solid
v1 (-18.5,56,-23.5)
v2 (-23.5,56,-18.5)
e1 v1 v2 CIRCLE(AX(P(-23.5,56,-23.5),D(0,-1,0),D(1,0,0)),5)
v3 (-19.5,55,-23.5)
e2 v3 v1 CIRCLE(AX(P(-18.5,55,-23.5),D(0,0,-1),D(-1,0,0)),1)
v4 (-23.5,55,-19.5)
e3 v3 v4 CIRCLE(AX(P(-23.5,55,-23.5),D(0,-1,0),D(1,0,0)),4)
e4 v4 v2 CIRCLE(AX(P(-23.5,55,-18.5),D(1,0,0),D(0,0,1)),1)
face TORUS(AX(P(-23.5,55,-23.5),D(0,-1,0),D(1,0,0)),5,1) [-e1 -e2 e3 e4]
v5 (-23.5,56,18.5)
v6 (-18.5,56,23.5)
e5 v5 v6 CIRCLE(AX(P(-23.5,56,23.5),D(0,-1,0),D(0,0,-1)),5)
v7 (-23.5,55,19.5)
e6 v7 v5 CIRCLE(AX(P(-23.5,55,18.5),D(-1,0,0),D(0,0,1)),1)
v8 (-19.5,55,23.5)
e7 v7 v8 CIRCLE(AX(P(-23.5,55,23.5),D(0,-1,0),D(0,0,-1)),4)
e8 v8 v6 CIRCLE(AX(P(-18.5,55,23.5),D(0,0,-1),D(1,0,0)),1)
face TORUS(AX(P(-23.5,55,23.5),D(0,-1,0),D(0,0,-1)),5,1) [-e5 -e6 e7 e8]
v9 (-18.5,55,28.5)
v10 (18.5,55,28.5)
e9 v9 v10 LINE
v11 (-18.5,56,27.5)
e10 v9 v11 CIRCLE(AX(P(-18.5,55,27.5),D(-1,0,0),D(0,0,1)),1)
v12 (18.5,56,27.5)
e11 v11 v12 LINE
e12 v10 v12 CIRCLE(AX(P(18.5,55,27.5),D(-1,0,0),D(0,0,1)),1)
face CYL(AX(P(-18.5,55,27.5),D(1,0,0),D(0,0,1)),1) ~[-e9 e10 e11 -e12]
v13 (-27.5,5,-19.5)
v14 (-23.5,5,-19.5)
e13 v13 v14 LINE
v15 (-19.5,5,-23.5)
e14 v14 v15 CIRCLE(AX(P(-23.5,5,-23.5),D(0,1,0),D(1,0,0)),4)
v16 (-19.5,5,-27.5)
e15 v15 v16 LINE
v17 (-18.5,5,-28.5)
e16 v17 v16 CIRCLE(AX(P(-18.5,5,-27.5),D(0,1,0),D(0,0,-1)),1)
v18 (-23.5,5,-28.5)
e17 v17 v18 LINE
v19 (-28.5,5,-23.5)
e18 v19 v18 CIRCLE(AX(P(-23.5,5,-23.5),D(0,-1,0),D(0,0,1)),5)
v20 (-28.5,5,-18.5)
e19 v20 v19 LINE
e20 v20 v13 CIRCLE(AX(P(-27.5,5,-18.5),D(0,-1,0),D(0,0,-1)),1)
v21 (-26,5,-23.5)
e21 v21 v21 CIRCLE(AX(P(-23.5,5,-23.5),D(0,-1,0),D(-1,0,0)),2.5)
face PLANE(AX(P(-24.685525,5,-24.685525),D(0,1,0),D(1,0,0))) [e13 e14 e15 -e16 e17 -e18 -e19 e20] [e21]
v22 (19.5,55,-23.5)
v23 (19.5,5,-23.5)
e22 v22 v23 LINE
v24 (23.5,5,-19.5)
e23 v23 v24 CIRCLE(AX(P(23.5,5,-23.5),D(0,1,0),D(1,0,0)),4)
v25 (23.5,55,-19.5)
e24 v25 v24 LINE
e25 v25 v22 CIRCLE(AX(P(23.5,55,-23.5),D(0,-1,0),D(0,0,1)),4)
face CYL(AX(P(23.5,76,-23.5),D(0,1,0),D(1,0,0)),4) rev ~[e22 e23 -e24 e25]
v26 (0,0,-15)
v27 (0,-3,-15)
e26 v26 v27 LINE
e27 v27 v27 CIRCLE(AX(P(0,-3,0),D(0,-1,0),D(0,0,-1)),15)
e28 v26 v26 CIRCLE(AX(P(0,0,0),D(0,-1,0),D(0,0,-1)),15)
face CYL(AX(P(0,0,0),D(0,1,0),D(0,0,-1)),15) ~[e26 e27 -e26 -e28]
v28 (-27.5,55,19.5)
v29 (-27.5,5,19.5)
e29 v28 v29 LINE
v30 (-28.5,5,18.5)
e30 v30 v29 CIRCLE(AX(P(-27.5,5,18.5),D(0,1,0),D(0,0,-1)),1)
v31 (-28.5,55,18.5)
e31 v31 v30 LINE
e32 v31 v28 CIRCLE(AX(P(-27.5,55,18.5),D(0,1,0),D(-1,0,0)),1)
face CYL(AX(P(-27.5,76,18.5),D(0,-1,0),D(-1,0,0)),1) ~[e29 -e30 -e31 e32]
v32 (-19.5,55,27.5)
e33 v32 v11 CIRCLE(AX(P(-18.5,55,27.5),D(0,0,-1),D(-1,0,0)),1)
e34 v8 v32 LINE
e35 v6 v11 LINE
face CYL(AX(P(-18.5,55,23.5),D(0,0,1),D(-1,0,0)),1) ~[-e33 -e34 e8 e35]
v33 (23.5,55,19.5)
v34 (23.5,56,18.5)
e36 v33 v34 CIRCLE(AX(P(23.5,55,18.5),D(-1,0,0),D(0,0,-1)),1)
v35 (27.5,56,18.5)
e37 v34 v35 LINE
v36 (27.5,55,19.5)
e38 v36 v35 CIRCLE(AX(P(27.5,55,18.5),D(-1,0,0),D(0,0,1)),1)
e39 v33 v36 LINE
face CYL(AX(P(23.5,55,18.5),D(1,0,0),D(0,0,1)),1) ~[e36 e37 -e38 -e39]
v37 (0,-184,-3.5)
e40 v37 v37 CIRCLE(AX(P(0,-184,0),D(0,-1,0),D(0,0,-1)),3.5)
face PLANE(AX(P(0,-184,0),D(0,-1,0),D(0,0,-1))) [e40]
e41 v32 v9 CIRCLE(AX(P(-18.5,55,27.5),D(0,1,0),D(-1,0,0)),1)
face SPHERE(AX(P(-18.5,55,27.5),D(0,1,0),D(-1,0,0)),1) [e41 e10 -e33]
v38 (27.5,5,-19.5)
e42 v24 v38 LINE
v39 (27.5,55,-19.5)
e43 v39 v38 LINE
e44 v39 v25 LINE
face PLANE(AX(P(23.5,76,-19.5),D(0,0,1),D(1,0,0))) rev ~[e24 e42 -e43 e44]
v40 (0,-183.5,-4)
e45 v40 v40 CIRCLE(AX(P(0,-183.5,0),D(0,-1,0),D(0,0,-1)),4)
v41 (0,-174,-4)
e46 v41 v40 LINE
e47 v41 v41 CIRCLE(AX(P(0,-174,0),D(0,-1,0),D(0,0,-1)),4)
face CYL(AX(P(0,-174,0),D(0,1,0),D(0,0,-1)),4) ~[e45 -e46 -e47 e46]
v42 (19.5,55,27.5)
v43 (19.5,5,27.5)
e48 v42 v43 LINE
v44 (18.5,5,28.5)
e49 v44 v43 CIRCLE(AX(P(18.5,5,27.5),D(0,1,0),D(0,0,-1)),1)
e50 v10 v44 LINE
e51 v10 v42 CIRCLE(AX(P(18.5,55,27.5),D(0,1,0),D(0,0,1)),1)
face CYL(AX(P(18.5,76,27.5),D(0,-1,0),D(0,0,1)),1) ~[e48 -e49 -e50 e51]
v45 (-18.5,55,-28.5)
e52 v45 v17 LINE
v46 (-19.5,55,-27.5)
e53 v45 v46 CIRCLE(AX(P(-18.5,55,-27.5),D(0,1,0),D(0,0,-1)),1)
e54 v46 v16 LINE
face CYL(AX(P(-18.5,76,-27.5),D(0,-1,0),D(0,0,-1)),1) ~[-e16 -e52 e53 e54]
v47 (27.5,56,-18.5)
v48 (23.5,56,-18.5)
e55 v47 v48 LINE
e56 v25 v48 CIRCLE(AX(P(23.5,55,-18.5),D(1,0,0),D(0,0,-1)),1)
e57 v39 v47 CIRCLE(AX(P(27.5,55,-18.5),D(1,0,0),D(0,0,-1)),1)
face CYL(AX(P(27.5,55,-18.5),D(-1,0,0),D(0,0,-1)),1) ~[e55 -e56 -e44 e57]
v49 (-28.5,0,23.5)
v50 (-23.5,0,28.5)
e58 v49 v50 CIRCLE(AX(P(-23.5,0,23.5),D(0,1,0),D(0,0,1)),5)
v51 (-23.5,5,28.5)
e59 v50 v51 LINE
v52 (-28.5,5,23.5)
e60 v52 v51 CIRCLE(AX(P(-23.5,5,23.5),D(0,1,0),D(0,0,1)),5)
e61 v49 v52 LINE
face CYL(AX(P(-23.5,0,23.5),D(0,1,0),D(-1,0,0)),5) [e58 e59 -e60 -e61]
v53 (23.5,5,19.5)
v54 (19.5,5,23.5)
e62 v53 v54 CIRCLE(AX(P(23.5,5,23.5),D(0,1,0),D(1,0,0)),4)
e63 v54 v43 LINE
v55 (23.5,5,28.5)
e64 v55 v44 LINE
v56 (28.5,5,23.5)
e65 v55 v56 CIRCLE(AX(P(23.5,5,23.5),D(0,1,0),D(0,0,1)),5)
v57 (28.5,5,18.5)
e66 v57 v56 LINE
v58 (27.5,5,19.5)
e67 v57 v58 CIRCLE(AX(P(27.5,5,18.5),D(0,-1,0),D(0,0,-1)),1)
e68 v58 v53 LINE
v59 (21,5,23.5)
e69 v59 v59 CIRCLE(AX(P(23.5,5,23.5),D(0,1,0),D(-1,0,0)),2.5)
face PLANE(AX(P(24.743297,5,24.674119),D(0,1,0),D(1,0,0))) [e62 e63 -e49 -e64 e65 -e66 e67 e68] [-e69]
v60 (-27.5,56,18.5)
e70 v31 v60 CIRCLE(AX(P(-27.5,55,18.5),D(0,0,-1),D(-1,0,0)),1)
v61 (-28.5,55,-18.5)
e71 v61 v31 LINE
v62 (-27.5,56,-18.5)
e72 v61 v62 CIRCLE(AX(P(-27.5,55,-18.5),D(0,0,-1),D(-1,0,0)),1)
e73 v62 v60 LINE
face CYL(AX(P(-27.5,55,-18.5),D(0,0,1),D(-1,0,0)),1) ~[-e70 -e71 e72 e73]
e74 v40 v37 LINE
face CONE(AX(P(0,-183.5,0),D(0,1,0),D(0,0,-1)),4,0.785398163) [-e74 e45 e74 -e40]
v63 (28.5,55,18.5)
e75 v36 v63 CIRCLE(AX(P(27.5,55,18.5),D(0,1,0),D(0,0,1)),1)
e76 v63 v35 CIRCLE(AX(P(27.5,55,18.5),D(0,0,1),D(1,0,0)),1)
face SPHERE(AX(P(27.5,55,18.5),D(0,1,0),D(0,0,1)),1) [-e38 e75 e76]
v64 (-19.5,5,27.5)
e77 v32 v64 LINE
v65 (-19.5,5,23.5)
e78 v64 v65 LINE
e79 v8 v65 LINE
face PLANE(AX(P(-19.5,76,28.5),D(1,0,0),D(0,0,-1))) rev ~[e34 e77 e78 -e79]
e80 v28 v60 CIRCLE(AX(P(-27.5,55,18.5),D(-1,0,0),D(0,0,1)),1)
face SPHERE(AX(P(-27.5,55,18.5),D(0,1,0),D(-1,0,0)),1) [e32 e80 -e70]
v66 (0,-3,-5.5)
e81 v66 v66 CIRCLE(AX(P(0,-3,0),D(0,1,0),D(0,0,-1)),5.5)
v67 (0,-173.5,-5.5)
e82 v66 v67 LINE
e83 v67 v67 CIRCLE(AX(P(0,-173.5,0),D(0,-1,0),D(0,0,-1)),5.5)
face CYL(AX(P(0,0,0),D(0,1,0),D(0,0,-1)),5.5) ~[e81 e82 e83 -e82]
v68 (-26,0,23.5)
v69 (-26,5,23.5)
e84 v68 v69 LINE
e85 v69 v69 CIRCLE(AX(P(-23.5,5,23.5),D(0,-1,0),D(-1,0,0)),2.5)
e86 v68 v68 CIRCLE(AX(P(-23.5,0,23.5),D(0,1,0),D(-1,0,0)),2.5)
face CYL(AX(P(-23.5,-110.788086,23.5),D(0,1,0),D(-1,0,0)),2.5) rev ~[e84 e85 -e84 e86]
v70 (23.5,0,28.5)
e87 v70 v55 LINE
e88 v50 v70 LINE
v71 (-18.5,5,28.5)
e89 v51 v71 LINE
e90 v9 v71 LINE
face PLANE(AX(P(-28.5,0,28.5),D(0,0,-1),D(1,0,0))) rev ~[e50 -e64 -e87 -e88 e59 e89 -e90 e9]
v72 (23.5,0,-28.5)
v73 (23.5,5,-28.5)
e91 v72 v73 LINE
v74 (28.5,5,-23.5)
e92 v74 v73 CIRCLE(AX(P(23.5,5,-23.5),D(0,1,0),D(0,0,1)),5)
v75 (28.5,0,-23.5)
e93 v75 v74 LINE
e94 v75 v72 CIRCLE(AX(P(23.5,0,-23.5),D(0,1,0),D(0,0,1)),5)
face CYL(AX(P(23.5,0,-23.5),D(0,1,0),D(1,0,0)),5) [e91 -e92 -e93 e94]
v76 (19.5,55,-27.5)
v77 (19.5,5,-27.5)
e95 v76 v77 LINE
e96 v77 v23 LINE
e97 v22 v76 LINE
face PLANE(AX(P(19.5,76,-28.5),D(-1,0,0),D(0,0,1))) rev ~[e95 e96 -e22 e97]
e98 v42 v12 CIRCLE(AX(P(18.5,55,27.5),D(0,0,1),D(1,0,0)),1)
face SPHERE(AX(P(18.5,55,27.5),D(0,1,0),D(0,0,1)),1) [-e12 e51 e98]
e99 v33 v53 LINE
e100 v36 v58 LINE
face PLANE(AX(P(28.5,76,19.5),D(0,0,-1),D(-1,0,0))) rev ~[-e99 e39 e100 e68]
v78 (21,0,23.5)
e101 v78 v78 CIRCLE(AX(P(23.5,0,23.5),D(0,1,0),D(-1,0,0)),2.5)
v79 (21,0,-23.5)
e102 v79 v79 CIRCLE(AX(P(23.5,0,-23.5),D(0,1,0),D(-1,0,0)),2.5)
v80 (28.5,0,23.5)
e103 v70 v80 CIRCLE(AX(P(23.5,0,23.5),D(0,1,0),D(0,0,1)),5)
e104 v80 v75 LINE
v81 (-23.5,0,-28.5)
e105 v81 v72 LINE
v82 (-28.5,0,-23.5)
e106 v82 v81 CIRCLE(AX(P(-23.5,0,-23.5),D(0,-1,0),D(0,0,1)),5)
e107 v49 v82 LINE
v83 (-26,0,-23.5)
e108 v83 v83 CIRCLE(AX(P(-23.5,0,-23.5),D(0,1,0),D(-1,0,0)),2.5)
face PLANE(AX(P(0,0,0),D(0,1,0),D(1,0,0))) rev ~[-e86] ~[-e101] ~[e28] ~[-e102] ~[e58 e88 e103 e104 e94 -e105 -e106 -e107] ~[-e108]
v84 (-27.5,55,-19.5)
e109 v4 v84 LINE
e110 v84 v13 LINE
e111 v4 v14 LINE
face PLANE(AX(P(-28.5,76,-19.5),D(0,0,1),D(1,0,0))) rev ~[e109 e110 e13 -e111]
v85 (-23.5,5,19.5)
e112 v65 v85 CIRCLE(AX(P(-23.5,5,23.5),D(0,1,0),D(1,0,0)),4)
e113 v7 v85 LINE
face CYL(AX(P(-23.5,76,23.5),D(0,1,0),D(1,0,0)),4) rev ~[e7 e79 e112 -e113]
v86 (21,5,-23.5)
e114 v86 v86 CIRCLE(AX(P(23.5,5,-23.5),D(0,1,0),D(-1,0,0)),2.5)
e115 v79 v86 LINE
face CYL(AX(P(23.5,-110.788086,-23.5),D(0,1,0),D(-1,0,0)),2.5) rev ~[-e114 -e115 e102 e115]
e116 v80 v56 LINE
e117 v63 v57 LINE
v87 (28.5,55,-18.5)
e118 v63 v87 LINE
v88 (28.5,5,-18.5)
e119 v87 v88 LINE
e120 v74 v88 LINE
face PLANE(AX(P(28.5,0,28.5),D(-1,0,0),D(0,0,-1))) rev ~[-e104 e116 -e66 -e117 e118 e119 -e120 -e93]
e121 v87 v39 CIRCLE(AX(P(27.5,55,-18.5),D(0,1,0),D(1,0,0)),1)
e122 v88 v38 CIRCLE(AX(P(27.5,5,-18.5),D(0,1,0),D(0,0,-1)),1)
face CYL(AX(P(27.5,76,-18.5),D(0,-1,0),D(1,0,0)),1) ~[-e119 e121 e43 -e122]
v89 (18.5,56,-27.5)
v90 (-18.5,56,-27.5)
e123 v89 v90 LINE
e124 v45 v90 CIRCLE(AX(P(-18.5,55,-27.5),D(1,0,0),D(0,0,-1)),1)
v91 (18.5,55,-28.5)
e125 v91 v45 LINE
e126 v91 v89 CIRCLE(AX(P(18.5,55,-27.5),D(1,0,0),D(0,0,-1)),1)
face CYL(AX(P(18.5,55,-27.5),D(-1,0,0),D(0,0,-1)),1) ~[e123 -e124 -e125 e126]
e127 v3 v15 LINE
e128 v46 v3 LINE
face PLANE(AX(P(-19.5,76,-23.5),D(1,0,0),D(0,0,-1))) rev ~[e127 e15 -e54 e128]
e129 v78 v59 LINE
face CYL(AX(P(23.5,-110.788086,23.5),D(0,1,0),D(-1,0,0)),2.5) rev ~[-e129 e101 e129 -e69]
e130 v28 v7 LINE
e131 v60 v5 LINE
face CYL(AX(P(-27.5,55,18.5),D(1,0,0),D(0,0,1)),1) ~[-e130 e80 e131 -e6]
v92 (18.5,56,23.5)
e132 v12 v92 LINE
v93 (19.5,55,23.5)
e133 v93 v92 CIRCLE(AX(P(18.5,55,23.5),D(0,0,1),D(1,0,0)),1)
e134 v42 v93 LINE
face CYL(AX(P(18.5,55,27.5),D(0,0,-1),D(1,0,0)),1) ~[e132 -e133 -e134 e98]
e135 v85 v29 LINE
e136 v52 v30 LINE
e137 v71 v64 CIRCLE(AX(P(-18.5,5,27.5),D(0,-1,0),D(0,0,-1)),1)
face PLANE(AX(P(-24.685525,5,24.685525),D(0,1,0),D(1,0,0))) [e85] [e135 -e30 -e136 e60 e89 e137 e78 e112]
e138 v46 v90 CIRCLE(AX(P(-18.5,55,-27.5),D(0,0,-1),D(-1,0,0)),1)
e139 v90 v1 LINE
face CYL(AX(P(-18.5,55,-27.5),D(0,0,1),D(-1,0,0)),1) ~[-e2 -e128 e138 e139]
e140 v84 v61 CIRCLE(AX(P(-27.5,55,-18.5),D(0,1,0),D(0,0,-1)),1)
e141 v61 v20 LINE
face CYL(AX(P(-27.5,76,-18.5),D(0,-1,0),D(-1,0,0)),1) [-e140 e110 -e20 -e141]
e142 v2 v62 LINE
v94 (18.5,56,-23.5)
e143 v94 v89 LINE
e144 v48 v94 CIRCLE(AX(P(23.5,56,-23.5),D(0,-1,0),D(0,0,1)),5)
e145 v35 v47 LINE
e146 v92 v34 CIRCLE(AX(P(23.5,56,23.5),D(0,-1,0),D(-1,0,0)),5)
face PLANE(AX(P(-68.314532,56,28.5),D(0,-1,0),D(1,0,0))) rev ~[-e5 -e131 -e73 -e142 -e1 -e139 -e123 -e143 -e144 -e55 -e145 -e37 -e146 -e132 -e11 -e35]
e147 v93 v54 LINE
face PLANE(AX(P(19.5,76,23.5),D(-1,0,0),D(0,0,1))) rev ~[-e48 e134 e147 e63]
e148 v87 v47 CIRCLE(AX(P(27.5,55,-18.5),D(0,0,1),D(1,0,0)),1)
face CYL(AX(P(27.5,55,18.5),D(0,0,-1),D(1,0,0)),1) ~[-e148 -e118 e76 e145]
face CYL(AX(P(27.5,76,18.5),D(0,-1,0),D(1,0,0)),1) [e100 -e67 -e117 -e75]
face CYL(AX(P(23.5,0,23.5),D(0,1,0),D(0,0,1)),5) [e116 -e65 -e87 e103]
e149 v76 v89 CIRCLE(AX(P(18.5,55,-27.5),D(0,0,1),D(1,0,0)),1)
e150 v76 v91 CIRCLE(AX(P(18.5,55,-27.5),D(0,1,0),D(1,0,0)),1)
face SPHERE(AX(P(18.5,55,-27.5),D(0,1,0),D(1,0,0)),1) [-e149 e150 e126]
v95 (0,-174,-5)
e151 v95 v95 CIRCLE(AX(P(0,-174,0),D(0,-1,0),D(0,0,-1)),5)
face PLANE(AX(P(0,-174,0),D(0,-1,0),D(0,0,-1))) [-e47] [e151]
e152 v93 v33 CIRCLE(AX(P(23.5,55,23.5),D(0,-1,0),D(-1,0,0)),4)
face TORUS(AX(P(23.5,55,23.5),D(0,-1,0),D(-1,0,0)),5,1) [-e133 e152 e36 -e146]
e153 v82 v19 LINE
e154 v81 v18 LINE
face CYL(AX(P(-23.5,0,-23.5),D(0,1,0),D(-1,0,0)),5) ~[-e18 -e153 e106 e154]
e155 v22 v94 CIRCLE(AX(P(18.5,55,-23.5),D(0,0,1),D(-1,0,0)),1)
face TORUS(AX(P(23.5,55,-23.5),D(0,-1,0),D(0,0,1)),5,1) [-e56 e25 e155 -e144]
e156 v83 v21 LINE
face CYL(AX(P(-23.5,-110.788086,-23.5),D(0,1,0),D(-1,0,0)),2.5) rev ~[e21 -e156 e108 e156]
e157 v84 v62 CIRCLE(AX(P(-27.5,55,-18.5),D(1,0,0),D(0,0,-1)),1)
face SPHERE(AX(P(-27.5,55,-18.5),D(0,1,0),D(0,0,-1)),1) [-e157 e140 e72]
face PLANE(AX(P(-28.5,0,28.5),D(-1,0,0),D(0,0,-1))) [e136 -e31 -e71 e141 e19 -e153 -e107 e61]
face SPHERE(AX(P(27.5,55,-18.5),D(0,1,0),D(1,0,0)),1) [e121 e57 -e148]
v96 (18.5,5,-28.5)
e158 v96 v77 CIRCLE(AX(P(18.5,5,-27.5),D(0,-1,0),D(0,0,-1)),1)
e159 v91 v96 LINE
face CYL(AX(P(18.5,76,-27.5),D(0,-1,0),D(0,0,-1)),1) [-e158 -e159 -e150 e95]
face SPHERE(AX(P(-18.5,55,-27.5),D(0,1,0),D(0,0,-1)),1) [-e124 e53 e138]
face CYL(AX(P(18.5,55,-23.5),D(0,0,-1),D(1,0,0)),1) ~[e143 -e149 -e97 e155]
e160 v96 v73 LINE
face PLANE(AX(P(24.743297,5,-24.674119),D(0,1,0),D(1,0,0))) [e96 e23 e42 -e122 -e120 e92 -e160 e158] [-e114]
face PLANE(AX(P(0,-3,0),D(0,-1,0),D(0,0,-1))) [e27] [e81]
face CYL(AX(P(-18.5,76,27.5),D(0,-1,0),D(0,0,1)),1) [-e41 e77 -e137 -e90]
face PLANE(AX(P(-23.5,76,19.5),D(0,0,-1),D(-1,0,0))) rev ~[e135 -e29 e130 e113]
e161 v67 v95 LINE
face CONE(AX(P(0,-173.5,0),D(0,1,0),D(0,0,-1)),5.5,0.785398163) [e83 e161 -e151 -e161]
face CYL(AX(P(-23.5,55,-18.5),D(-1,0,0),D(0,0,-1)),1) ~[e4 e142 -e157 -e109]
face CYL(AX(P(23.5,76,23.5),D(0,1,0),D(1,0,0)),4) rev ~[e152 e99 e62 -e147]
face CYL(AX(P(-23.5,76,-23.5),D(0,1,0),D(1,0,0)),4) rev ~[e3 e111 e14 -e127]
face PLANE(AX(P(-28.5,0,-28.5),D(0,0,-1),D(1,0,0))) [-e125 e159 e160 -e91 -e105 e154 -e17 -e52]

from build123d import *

# Parameters (mm, degrees)
SKETCH1_W                = 57
SKETCH1_H                = 57
EXTRUDE1_DEPTH           = 76
F_5_0_5_DIAMETER_HOLE1_D = 5
SKETCH6_R                = 4
SKETCH6_R_2              = 2.5
EXTRUDE4_DEPTH           = 71
FILLET1_R                = 5
SKETCH7_R                = 3
EXTRUDE5_DEPTH           = 101
SKETCH8_R                = 15
EXTRUDE6_DEPTH           = 3
FILLET2_R                = 1
SKETCH9_R                = 5.5
BOSS_EXTRUDE1_DEPTH      = 174
CHAMFER1_SIZE            = 0.5
SKETCH10_R               = 4
BOSS_EXTRUDE2_DEPTH      = 10
CHAMFER2_SIZE            = 0.5
CUT_EXTRUDE1_REACH       = 196.724
SKETCH11_W               = 136.965596246
SKETCH11_H               = 58.892429462
FILLET3_R                = 1


with BuildPart() as part:
    # Sketch1 → Extrude1 (new body)
    with BuildSketch(Plane(origin=(0, 0, 0), x_dir=(1, 0, 0), z_dir=(0, 1, 0))):
        Rectangle(SKETCH1_W, SKETCH1_H)
    extrude(amount=EXTRUDE1_DEPTH)

    # Ø5.0 (5) Diameter Hole1 (through all)
    with Locations(Plane.XZ):
        with Locations((-23.5, 23.5), (23.5, 23.5), (23.5, -23.5), (-23.5, -23.5)):
            Hole(F_5_0_5_DIAMETER_HOLE1_D / 2)

    # Sketch6 → Extrude4 (cut)
    # profile 1 of 12: a face of its own
    with BuildSketch(Plane(origin=(0, 76, 0), x_dir=(1, 0, 0), z_dir=(0, 1, 0))):
        Polygon((-28.5, 28.5), (-19.5, 28.5), (-19.5, 32.511741208), (-33.908905561, 32.511741208), (-33.908905561, 19.5), (-28.5, 19.5), align=None)
    # profile 2 of 12: a face of its own
    with BuildSketch(Plane(origin=(0, 76, 0), x_dir=(1, 0, 0), z_dir=(0, 1, 0))):
        with BuildLine():
            ThreePointArc((-23.5, 19.5), (-26.328427125, 26.328427125), (-19.5, 23.5))
            Line((-19.5, 23.5), (-19.5, 28.5))
            Line((-19.5, 28.5), (-28.5, 28.5))
            Line((-28.5, 28.5), (-28.5, 19.5))
            Line((-28.5, 19.5), (-23.5, 19.5))
        make_face()
    # profile 3 of 12: a face of its own
    with BuildSketch(Plane(origin=(0, 76, 0), x_dir=(1, 0, 0), z_dir=(0, 1, 0))):
        with Locations((-23.5, 23.5)):
            Circle(SKETCH6_R)
        with Locations(Location((-23.5, 23.5, 0), (0, 0, 90))):
            Circle(SKETCH6_R_2, mode=Mode.SUBTRACT)
    # profile 4 of 12: a face of its own
    with BuildSketch(Plane(origin=(0, 76, 0), x_dir=(1, 0, 0), z_dir=(0, 1, 0))):
        Polygon((19.5, 36.471560472), (19.5, 28.5), (28.5, 28.5), (28.5, 19.5), (41.168352552, 19.5), (41.168352552, 36.471560472), align=None)
    # profile 5 of 12: a face of its own
    with BuildSketch(Plane(origin=(0, 76, 0), x_dir=(1, 0, 0), z_dir=(0, 1, 0))):
        with BuildLine():
            Line((28.5, 28.5), (19.5, 28.5))
            Line((19.5, 28.5), (19.5, 23.5))
            ThreePointArc((19.5, 23.5), (23.5, 27.5), (27.5, 23.5))
            ThreePointArc((27.5, 23.5), (26.328427125, 20.671572875), (23.5, 19.5))
            Line((23.5, 19.5), (28.5, 19.5))
            Line((28.5, 19.5), (28.5, 28.5))
        make_face()
    # profile 6 of 12: a face of its own
    with BuildSketch(Plane(origin=(0, 76, 0), x_dir=(1, 0, 0), z_dir=(0, 1, 0))):
        with Locations((23.5, 23.5)):
            Circle(SKETCH6_R)
        with Locations(Location((23.5, 23.5, 0), (0, 0, 90))):
            Circle(SKETCH6_R_2, mode=Mode.SUBTRACT)
    # profile 7 of 12: a face of its own
    with BuildSketch(Plane(origin=(0, 76, 0), x_dir=(1, 0, 0), z_dir=(0, 1, 0))):
        with Locations((23.5, -23.5)):
            Circle(SKETCH6_R)
        with Locations(Location((23.5, -23.5, 0), (0, 0, 90))):
            Circle(SKETCH6_R_2, mode=Mode.SUBTRACT)
    # profile 8 of 12: a face of its own
    with BuildSketch(Plane(origin=(0, 76, 0), x_dir=(1, 0, 0), z_dir=(0, 1, 0))):
        with BuildLine():
            Line((28.5, -28.5), (28.5, -19.5))
            Line((28.5, -19.5), (23.5, -19.5))
            ThreePointArc((23.5, -19.5), (26.328427125, -20.671572875), (27.5, -23.5))
            ThreePointArc((27.5, -23.5), (23.5, -27.5), (19.5, -23.5))
            Line((19.5, -23.5), (19.5, -28.5))
            Line((19.5, -28.5), (28.5, -28.5))
        make_face()
    # profile 9 of 12: a face of its own
    with BuildSketch(Plane(origin=(0, 76, 0), x_dir=(1, 0, 0), z_dir=(0, 1, 0))):
        Polygon((44.252209519, -19.5), (28.5, -19.5), (28.5, -28.5), (19.5, -28.5), (19.5, -40.050429997), (44.252209519, -40.050429997), align=None)
    # profile 10 of 12: a face of its own
    with BuildSketch(Plane(origin=(0, 76, 0), x_dir=(1, 0, 0), z_dir=(0, 1, 0))):
        Polygon((-28.5, -28.5), (-28.5, -19.5), (-37.670786859, -19.5), (-37.670786859, -37.828231874), (-19.5, -37.828231874), (-19.5, -28.5), align=None)
    # profile 11 of 12: a face of its own
    with BuildSketch(Plane(origin=(0, 76, 0), x_dir=(1, 0, 0), z_dir=(0, 1, 0))):
        with BuildLine():
            Line((-23.5, -19.5), (-28.5, -19.5))
            Line((-28.5, -19.5), (-28.5, -28.5))
            Line((-28.5, -28.5), (-19.5, -28.5))
            Line((-19.5, -28.5), (-19.5, -23.5))
            ThreePointArc((-19.5, -23.5), (-26.328427125, -26.328427125), (-23.5, -19.5))
        make_face()
    # profile 12 of 12: a face of its own
    with BuildSketch(Plane(origin=(0, 76, 0), x_dir=(1, 0, 0), z_dir=(0, 1, 0))):
        with Locations((-23.5, -23.5)):
            Circle(SKETCH6_R)
        with Locations(Location((-23.5, -23.5, 0), (0, 0, 90))):
            Circle(SKETCH6_R_2, mode=Mode.SUBTRACT)
    extrude(amount=-EXTRUDE4_DEPTH, mode=Mode.SUBTRACT)

    # Fillet1
    fillet1_edges = [part.edges().sort_by_distance(p)[0] for p in [
        (-28.5, 2.5, 28.5),
        (-28.5, 2.5, -28.5),
        (28.5, 2.5, -28.5),
        (28.5, 2.5, 28.5),
    ]]
    fillet(fillet1_edges, radius=FILLET1_R)



with BuildPart() as body_2:
    # Sketch7 → Extrude5 (new body)
    with BuildSketch(Plane(origin=(0, 76, 0), x_dir=(1, 0, 0), z_dir=(0, 1, 0))):
        with Locations(Location((0, 0, 0), (0, 0, 270))):
            Circle(SKETCH7_R)
    extrude(amount=-EXTRUDE5_DEPTH)


with BuildPart() as part_1:
    add(part.part)

    add(body_2.part)  # Extrude6 merges body 2
    # Sketch8 → Extrude6 (add)
    with BuildSketch(Plane.XZ):
        with Locations(Location((0, 0, 0), (0, 0, 270))):
            Circle(SKETCH8_R)
    extrude(amount=EXTRUDE6_DEPTH)

    # Fillet2
    fillet2_edges = [part_1.edges().sort_by_distance(p)[0] for p in [
        (-28.5, 40.5, 19.5),
        (0, 76, 28.5),
        (-19.5, 40.5, 28.5),
        (-19.5, 76, 26),
        (-20.671572875, 76, 20.671572875),
        (-26, 76, 19.5),
        (-28.5, 76, 0),
        (-28.5, 40.5, -19.5),
        (-19.5, 40.5, -28.5),
        (-19.5, 76, -26),
        (-26, 76, -19.5),
        (-20.671572875, 76, -20.671572875),
        (0, 76, -28.5),
        (19.5, 76, -26),
        (26, 76, -19.5),
        (20.671572875, 76, -20.671572875),
        (19.5, 40.5, -28.5),
        (28.5, 40.5, -19.5),
        (19.5, 40.5, 28.5),
        (28.5, 76, 0),
        (26, 76, 19.5),
        (19.5, 76, 26),
        (20.671572875, 76, 20.671572875),
        (28.5, 40.5, 19.5),
    ]]
    fillet(fillet2_edges, radius=FILLET2_R)

    # Sketch9 → Boss-Extrude1 (add)
    with BuildSketch(Plane.XZ):
        with Locations(Location((0, 0, 0), (0, 0, 270))):
            Circle(SKETCH9_R)
    extrude(amount=BOSS_EXTRUDE1_DEPTH)

    # Chamfer1
    chamfer1_edges = [part_1.edges().sort_by_distance(p)[0] for p in [
        (0, -174, 5.5),
    ]]
    chamfer(chamfer1_edges, length=CHAMFER1_SIZE)

    # Sketch10 → Boss-Extrude2 (add)
    with BuildSketch(Plane.XZ.offset(174)):
        with Locations(Location((0, 0, 0), (0, 0, 270))):
            Circle(SKETCH10_R)
    extrude(amount=BOSS_EXTRUDE2_DEPTH)

    # Chamfer2
    chamfer2_edges = [part_1.edges().sort_by_distance(p)[0] for p in [
        (0, -184, 4),
    ]]
    chamfer(chamfer2_edges, length=CHAMFER2_SIZE)

    # Sketch11 → Cut-Extrude1 (cut, up to next)
    with BuildSketch(Plane.XY.offset(28.5), mode=Mode.PRIVATE) as cut_extrude1_sk1:
        with Locations((0.168266434, 85.446214731)):
            Rectangle(SKETCH11_W, SKETCH11_H)
    cut_extrude1_tool1 = extrude(cut_extrude1_sk1.sketch, amount=-CUT_EXTRUDE1_REACH, mode=Mode.PRIVATE) & part_1.part
    add(cut_extrude1_tool1.solids().sort_by_distance((0.168266, 85.446215, 28.5))[0], mode=Mode.SUBTRACT)

    # Fillet3
    fillet3_edges = [part_1.edges().sort_by_distance(p)[0] for p in [
        (0, 56, 28.5),
        (19.5, 56, 25.5),
        (19.207106781, 56, 28.207106781),
        (-19.207106781, 56, 28.207106781),
        (-28.207106781, 56, 19.207106781),
        (-28.207106781, 56, -19.207106781),
        (-19.207106781, 56, -28.207106781),
        (19.207106781, 56, -28.207106781),
        (19.5, 56, -25.5),
        (25.5, 56, -19.5),
        (28.207106781, 56, -19.207106781),
        (28.207106781, 56, 19.207106781),
        (25.5, 56, 19.5),
        (28.5, 56, 0),
        (0, 56, -28.5),
        (-28.5, 56, 0),
        (-25.5, 56, -19.5),
        (-19.5, 56, -25.5),
        (-20.671572875, 56, -20.671572875),
        (20.671572875, 56, -20.671572875),
        (20.671572875, 56, 20.671572875),
        (-19.5, 56, 25.5),
        (-25.5, 56, 19.5),
        (-20.671572875, 56, 20.671572875),
    ]]
    fillet(fillet3_edges, radius=FILLET3_R)


solid = part_1.part
